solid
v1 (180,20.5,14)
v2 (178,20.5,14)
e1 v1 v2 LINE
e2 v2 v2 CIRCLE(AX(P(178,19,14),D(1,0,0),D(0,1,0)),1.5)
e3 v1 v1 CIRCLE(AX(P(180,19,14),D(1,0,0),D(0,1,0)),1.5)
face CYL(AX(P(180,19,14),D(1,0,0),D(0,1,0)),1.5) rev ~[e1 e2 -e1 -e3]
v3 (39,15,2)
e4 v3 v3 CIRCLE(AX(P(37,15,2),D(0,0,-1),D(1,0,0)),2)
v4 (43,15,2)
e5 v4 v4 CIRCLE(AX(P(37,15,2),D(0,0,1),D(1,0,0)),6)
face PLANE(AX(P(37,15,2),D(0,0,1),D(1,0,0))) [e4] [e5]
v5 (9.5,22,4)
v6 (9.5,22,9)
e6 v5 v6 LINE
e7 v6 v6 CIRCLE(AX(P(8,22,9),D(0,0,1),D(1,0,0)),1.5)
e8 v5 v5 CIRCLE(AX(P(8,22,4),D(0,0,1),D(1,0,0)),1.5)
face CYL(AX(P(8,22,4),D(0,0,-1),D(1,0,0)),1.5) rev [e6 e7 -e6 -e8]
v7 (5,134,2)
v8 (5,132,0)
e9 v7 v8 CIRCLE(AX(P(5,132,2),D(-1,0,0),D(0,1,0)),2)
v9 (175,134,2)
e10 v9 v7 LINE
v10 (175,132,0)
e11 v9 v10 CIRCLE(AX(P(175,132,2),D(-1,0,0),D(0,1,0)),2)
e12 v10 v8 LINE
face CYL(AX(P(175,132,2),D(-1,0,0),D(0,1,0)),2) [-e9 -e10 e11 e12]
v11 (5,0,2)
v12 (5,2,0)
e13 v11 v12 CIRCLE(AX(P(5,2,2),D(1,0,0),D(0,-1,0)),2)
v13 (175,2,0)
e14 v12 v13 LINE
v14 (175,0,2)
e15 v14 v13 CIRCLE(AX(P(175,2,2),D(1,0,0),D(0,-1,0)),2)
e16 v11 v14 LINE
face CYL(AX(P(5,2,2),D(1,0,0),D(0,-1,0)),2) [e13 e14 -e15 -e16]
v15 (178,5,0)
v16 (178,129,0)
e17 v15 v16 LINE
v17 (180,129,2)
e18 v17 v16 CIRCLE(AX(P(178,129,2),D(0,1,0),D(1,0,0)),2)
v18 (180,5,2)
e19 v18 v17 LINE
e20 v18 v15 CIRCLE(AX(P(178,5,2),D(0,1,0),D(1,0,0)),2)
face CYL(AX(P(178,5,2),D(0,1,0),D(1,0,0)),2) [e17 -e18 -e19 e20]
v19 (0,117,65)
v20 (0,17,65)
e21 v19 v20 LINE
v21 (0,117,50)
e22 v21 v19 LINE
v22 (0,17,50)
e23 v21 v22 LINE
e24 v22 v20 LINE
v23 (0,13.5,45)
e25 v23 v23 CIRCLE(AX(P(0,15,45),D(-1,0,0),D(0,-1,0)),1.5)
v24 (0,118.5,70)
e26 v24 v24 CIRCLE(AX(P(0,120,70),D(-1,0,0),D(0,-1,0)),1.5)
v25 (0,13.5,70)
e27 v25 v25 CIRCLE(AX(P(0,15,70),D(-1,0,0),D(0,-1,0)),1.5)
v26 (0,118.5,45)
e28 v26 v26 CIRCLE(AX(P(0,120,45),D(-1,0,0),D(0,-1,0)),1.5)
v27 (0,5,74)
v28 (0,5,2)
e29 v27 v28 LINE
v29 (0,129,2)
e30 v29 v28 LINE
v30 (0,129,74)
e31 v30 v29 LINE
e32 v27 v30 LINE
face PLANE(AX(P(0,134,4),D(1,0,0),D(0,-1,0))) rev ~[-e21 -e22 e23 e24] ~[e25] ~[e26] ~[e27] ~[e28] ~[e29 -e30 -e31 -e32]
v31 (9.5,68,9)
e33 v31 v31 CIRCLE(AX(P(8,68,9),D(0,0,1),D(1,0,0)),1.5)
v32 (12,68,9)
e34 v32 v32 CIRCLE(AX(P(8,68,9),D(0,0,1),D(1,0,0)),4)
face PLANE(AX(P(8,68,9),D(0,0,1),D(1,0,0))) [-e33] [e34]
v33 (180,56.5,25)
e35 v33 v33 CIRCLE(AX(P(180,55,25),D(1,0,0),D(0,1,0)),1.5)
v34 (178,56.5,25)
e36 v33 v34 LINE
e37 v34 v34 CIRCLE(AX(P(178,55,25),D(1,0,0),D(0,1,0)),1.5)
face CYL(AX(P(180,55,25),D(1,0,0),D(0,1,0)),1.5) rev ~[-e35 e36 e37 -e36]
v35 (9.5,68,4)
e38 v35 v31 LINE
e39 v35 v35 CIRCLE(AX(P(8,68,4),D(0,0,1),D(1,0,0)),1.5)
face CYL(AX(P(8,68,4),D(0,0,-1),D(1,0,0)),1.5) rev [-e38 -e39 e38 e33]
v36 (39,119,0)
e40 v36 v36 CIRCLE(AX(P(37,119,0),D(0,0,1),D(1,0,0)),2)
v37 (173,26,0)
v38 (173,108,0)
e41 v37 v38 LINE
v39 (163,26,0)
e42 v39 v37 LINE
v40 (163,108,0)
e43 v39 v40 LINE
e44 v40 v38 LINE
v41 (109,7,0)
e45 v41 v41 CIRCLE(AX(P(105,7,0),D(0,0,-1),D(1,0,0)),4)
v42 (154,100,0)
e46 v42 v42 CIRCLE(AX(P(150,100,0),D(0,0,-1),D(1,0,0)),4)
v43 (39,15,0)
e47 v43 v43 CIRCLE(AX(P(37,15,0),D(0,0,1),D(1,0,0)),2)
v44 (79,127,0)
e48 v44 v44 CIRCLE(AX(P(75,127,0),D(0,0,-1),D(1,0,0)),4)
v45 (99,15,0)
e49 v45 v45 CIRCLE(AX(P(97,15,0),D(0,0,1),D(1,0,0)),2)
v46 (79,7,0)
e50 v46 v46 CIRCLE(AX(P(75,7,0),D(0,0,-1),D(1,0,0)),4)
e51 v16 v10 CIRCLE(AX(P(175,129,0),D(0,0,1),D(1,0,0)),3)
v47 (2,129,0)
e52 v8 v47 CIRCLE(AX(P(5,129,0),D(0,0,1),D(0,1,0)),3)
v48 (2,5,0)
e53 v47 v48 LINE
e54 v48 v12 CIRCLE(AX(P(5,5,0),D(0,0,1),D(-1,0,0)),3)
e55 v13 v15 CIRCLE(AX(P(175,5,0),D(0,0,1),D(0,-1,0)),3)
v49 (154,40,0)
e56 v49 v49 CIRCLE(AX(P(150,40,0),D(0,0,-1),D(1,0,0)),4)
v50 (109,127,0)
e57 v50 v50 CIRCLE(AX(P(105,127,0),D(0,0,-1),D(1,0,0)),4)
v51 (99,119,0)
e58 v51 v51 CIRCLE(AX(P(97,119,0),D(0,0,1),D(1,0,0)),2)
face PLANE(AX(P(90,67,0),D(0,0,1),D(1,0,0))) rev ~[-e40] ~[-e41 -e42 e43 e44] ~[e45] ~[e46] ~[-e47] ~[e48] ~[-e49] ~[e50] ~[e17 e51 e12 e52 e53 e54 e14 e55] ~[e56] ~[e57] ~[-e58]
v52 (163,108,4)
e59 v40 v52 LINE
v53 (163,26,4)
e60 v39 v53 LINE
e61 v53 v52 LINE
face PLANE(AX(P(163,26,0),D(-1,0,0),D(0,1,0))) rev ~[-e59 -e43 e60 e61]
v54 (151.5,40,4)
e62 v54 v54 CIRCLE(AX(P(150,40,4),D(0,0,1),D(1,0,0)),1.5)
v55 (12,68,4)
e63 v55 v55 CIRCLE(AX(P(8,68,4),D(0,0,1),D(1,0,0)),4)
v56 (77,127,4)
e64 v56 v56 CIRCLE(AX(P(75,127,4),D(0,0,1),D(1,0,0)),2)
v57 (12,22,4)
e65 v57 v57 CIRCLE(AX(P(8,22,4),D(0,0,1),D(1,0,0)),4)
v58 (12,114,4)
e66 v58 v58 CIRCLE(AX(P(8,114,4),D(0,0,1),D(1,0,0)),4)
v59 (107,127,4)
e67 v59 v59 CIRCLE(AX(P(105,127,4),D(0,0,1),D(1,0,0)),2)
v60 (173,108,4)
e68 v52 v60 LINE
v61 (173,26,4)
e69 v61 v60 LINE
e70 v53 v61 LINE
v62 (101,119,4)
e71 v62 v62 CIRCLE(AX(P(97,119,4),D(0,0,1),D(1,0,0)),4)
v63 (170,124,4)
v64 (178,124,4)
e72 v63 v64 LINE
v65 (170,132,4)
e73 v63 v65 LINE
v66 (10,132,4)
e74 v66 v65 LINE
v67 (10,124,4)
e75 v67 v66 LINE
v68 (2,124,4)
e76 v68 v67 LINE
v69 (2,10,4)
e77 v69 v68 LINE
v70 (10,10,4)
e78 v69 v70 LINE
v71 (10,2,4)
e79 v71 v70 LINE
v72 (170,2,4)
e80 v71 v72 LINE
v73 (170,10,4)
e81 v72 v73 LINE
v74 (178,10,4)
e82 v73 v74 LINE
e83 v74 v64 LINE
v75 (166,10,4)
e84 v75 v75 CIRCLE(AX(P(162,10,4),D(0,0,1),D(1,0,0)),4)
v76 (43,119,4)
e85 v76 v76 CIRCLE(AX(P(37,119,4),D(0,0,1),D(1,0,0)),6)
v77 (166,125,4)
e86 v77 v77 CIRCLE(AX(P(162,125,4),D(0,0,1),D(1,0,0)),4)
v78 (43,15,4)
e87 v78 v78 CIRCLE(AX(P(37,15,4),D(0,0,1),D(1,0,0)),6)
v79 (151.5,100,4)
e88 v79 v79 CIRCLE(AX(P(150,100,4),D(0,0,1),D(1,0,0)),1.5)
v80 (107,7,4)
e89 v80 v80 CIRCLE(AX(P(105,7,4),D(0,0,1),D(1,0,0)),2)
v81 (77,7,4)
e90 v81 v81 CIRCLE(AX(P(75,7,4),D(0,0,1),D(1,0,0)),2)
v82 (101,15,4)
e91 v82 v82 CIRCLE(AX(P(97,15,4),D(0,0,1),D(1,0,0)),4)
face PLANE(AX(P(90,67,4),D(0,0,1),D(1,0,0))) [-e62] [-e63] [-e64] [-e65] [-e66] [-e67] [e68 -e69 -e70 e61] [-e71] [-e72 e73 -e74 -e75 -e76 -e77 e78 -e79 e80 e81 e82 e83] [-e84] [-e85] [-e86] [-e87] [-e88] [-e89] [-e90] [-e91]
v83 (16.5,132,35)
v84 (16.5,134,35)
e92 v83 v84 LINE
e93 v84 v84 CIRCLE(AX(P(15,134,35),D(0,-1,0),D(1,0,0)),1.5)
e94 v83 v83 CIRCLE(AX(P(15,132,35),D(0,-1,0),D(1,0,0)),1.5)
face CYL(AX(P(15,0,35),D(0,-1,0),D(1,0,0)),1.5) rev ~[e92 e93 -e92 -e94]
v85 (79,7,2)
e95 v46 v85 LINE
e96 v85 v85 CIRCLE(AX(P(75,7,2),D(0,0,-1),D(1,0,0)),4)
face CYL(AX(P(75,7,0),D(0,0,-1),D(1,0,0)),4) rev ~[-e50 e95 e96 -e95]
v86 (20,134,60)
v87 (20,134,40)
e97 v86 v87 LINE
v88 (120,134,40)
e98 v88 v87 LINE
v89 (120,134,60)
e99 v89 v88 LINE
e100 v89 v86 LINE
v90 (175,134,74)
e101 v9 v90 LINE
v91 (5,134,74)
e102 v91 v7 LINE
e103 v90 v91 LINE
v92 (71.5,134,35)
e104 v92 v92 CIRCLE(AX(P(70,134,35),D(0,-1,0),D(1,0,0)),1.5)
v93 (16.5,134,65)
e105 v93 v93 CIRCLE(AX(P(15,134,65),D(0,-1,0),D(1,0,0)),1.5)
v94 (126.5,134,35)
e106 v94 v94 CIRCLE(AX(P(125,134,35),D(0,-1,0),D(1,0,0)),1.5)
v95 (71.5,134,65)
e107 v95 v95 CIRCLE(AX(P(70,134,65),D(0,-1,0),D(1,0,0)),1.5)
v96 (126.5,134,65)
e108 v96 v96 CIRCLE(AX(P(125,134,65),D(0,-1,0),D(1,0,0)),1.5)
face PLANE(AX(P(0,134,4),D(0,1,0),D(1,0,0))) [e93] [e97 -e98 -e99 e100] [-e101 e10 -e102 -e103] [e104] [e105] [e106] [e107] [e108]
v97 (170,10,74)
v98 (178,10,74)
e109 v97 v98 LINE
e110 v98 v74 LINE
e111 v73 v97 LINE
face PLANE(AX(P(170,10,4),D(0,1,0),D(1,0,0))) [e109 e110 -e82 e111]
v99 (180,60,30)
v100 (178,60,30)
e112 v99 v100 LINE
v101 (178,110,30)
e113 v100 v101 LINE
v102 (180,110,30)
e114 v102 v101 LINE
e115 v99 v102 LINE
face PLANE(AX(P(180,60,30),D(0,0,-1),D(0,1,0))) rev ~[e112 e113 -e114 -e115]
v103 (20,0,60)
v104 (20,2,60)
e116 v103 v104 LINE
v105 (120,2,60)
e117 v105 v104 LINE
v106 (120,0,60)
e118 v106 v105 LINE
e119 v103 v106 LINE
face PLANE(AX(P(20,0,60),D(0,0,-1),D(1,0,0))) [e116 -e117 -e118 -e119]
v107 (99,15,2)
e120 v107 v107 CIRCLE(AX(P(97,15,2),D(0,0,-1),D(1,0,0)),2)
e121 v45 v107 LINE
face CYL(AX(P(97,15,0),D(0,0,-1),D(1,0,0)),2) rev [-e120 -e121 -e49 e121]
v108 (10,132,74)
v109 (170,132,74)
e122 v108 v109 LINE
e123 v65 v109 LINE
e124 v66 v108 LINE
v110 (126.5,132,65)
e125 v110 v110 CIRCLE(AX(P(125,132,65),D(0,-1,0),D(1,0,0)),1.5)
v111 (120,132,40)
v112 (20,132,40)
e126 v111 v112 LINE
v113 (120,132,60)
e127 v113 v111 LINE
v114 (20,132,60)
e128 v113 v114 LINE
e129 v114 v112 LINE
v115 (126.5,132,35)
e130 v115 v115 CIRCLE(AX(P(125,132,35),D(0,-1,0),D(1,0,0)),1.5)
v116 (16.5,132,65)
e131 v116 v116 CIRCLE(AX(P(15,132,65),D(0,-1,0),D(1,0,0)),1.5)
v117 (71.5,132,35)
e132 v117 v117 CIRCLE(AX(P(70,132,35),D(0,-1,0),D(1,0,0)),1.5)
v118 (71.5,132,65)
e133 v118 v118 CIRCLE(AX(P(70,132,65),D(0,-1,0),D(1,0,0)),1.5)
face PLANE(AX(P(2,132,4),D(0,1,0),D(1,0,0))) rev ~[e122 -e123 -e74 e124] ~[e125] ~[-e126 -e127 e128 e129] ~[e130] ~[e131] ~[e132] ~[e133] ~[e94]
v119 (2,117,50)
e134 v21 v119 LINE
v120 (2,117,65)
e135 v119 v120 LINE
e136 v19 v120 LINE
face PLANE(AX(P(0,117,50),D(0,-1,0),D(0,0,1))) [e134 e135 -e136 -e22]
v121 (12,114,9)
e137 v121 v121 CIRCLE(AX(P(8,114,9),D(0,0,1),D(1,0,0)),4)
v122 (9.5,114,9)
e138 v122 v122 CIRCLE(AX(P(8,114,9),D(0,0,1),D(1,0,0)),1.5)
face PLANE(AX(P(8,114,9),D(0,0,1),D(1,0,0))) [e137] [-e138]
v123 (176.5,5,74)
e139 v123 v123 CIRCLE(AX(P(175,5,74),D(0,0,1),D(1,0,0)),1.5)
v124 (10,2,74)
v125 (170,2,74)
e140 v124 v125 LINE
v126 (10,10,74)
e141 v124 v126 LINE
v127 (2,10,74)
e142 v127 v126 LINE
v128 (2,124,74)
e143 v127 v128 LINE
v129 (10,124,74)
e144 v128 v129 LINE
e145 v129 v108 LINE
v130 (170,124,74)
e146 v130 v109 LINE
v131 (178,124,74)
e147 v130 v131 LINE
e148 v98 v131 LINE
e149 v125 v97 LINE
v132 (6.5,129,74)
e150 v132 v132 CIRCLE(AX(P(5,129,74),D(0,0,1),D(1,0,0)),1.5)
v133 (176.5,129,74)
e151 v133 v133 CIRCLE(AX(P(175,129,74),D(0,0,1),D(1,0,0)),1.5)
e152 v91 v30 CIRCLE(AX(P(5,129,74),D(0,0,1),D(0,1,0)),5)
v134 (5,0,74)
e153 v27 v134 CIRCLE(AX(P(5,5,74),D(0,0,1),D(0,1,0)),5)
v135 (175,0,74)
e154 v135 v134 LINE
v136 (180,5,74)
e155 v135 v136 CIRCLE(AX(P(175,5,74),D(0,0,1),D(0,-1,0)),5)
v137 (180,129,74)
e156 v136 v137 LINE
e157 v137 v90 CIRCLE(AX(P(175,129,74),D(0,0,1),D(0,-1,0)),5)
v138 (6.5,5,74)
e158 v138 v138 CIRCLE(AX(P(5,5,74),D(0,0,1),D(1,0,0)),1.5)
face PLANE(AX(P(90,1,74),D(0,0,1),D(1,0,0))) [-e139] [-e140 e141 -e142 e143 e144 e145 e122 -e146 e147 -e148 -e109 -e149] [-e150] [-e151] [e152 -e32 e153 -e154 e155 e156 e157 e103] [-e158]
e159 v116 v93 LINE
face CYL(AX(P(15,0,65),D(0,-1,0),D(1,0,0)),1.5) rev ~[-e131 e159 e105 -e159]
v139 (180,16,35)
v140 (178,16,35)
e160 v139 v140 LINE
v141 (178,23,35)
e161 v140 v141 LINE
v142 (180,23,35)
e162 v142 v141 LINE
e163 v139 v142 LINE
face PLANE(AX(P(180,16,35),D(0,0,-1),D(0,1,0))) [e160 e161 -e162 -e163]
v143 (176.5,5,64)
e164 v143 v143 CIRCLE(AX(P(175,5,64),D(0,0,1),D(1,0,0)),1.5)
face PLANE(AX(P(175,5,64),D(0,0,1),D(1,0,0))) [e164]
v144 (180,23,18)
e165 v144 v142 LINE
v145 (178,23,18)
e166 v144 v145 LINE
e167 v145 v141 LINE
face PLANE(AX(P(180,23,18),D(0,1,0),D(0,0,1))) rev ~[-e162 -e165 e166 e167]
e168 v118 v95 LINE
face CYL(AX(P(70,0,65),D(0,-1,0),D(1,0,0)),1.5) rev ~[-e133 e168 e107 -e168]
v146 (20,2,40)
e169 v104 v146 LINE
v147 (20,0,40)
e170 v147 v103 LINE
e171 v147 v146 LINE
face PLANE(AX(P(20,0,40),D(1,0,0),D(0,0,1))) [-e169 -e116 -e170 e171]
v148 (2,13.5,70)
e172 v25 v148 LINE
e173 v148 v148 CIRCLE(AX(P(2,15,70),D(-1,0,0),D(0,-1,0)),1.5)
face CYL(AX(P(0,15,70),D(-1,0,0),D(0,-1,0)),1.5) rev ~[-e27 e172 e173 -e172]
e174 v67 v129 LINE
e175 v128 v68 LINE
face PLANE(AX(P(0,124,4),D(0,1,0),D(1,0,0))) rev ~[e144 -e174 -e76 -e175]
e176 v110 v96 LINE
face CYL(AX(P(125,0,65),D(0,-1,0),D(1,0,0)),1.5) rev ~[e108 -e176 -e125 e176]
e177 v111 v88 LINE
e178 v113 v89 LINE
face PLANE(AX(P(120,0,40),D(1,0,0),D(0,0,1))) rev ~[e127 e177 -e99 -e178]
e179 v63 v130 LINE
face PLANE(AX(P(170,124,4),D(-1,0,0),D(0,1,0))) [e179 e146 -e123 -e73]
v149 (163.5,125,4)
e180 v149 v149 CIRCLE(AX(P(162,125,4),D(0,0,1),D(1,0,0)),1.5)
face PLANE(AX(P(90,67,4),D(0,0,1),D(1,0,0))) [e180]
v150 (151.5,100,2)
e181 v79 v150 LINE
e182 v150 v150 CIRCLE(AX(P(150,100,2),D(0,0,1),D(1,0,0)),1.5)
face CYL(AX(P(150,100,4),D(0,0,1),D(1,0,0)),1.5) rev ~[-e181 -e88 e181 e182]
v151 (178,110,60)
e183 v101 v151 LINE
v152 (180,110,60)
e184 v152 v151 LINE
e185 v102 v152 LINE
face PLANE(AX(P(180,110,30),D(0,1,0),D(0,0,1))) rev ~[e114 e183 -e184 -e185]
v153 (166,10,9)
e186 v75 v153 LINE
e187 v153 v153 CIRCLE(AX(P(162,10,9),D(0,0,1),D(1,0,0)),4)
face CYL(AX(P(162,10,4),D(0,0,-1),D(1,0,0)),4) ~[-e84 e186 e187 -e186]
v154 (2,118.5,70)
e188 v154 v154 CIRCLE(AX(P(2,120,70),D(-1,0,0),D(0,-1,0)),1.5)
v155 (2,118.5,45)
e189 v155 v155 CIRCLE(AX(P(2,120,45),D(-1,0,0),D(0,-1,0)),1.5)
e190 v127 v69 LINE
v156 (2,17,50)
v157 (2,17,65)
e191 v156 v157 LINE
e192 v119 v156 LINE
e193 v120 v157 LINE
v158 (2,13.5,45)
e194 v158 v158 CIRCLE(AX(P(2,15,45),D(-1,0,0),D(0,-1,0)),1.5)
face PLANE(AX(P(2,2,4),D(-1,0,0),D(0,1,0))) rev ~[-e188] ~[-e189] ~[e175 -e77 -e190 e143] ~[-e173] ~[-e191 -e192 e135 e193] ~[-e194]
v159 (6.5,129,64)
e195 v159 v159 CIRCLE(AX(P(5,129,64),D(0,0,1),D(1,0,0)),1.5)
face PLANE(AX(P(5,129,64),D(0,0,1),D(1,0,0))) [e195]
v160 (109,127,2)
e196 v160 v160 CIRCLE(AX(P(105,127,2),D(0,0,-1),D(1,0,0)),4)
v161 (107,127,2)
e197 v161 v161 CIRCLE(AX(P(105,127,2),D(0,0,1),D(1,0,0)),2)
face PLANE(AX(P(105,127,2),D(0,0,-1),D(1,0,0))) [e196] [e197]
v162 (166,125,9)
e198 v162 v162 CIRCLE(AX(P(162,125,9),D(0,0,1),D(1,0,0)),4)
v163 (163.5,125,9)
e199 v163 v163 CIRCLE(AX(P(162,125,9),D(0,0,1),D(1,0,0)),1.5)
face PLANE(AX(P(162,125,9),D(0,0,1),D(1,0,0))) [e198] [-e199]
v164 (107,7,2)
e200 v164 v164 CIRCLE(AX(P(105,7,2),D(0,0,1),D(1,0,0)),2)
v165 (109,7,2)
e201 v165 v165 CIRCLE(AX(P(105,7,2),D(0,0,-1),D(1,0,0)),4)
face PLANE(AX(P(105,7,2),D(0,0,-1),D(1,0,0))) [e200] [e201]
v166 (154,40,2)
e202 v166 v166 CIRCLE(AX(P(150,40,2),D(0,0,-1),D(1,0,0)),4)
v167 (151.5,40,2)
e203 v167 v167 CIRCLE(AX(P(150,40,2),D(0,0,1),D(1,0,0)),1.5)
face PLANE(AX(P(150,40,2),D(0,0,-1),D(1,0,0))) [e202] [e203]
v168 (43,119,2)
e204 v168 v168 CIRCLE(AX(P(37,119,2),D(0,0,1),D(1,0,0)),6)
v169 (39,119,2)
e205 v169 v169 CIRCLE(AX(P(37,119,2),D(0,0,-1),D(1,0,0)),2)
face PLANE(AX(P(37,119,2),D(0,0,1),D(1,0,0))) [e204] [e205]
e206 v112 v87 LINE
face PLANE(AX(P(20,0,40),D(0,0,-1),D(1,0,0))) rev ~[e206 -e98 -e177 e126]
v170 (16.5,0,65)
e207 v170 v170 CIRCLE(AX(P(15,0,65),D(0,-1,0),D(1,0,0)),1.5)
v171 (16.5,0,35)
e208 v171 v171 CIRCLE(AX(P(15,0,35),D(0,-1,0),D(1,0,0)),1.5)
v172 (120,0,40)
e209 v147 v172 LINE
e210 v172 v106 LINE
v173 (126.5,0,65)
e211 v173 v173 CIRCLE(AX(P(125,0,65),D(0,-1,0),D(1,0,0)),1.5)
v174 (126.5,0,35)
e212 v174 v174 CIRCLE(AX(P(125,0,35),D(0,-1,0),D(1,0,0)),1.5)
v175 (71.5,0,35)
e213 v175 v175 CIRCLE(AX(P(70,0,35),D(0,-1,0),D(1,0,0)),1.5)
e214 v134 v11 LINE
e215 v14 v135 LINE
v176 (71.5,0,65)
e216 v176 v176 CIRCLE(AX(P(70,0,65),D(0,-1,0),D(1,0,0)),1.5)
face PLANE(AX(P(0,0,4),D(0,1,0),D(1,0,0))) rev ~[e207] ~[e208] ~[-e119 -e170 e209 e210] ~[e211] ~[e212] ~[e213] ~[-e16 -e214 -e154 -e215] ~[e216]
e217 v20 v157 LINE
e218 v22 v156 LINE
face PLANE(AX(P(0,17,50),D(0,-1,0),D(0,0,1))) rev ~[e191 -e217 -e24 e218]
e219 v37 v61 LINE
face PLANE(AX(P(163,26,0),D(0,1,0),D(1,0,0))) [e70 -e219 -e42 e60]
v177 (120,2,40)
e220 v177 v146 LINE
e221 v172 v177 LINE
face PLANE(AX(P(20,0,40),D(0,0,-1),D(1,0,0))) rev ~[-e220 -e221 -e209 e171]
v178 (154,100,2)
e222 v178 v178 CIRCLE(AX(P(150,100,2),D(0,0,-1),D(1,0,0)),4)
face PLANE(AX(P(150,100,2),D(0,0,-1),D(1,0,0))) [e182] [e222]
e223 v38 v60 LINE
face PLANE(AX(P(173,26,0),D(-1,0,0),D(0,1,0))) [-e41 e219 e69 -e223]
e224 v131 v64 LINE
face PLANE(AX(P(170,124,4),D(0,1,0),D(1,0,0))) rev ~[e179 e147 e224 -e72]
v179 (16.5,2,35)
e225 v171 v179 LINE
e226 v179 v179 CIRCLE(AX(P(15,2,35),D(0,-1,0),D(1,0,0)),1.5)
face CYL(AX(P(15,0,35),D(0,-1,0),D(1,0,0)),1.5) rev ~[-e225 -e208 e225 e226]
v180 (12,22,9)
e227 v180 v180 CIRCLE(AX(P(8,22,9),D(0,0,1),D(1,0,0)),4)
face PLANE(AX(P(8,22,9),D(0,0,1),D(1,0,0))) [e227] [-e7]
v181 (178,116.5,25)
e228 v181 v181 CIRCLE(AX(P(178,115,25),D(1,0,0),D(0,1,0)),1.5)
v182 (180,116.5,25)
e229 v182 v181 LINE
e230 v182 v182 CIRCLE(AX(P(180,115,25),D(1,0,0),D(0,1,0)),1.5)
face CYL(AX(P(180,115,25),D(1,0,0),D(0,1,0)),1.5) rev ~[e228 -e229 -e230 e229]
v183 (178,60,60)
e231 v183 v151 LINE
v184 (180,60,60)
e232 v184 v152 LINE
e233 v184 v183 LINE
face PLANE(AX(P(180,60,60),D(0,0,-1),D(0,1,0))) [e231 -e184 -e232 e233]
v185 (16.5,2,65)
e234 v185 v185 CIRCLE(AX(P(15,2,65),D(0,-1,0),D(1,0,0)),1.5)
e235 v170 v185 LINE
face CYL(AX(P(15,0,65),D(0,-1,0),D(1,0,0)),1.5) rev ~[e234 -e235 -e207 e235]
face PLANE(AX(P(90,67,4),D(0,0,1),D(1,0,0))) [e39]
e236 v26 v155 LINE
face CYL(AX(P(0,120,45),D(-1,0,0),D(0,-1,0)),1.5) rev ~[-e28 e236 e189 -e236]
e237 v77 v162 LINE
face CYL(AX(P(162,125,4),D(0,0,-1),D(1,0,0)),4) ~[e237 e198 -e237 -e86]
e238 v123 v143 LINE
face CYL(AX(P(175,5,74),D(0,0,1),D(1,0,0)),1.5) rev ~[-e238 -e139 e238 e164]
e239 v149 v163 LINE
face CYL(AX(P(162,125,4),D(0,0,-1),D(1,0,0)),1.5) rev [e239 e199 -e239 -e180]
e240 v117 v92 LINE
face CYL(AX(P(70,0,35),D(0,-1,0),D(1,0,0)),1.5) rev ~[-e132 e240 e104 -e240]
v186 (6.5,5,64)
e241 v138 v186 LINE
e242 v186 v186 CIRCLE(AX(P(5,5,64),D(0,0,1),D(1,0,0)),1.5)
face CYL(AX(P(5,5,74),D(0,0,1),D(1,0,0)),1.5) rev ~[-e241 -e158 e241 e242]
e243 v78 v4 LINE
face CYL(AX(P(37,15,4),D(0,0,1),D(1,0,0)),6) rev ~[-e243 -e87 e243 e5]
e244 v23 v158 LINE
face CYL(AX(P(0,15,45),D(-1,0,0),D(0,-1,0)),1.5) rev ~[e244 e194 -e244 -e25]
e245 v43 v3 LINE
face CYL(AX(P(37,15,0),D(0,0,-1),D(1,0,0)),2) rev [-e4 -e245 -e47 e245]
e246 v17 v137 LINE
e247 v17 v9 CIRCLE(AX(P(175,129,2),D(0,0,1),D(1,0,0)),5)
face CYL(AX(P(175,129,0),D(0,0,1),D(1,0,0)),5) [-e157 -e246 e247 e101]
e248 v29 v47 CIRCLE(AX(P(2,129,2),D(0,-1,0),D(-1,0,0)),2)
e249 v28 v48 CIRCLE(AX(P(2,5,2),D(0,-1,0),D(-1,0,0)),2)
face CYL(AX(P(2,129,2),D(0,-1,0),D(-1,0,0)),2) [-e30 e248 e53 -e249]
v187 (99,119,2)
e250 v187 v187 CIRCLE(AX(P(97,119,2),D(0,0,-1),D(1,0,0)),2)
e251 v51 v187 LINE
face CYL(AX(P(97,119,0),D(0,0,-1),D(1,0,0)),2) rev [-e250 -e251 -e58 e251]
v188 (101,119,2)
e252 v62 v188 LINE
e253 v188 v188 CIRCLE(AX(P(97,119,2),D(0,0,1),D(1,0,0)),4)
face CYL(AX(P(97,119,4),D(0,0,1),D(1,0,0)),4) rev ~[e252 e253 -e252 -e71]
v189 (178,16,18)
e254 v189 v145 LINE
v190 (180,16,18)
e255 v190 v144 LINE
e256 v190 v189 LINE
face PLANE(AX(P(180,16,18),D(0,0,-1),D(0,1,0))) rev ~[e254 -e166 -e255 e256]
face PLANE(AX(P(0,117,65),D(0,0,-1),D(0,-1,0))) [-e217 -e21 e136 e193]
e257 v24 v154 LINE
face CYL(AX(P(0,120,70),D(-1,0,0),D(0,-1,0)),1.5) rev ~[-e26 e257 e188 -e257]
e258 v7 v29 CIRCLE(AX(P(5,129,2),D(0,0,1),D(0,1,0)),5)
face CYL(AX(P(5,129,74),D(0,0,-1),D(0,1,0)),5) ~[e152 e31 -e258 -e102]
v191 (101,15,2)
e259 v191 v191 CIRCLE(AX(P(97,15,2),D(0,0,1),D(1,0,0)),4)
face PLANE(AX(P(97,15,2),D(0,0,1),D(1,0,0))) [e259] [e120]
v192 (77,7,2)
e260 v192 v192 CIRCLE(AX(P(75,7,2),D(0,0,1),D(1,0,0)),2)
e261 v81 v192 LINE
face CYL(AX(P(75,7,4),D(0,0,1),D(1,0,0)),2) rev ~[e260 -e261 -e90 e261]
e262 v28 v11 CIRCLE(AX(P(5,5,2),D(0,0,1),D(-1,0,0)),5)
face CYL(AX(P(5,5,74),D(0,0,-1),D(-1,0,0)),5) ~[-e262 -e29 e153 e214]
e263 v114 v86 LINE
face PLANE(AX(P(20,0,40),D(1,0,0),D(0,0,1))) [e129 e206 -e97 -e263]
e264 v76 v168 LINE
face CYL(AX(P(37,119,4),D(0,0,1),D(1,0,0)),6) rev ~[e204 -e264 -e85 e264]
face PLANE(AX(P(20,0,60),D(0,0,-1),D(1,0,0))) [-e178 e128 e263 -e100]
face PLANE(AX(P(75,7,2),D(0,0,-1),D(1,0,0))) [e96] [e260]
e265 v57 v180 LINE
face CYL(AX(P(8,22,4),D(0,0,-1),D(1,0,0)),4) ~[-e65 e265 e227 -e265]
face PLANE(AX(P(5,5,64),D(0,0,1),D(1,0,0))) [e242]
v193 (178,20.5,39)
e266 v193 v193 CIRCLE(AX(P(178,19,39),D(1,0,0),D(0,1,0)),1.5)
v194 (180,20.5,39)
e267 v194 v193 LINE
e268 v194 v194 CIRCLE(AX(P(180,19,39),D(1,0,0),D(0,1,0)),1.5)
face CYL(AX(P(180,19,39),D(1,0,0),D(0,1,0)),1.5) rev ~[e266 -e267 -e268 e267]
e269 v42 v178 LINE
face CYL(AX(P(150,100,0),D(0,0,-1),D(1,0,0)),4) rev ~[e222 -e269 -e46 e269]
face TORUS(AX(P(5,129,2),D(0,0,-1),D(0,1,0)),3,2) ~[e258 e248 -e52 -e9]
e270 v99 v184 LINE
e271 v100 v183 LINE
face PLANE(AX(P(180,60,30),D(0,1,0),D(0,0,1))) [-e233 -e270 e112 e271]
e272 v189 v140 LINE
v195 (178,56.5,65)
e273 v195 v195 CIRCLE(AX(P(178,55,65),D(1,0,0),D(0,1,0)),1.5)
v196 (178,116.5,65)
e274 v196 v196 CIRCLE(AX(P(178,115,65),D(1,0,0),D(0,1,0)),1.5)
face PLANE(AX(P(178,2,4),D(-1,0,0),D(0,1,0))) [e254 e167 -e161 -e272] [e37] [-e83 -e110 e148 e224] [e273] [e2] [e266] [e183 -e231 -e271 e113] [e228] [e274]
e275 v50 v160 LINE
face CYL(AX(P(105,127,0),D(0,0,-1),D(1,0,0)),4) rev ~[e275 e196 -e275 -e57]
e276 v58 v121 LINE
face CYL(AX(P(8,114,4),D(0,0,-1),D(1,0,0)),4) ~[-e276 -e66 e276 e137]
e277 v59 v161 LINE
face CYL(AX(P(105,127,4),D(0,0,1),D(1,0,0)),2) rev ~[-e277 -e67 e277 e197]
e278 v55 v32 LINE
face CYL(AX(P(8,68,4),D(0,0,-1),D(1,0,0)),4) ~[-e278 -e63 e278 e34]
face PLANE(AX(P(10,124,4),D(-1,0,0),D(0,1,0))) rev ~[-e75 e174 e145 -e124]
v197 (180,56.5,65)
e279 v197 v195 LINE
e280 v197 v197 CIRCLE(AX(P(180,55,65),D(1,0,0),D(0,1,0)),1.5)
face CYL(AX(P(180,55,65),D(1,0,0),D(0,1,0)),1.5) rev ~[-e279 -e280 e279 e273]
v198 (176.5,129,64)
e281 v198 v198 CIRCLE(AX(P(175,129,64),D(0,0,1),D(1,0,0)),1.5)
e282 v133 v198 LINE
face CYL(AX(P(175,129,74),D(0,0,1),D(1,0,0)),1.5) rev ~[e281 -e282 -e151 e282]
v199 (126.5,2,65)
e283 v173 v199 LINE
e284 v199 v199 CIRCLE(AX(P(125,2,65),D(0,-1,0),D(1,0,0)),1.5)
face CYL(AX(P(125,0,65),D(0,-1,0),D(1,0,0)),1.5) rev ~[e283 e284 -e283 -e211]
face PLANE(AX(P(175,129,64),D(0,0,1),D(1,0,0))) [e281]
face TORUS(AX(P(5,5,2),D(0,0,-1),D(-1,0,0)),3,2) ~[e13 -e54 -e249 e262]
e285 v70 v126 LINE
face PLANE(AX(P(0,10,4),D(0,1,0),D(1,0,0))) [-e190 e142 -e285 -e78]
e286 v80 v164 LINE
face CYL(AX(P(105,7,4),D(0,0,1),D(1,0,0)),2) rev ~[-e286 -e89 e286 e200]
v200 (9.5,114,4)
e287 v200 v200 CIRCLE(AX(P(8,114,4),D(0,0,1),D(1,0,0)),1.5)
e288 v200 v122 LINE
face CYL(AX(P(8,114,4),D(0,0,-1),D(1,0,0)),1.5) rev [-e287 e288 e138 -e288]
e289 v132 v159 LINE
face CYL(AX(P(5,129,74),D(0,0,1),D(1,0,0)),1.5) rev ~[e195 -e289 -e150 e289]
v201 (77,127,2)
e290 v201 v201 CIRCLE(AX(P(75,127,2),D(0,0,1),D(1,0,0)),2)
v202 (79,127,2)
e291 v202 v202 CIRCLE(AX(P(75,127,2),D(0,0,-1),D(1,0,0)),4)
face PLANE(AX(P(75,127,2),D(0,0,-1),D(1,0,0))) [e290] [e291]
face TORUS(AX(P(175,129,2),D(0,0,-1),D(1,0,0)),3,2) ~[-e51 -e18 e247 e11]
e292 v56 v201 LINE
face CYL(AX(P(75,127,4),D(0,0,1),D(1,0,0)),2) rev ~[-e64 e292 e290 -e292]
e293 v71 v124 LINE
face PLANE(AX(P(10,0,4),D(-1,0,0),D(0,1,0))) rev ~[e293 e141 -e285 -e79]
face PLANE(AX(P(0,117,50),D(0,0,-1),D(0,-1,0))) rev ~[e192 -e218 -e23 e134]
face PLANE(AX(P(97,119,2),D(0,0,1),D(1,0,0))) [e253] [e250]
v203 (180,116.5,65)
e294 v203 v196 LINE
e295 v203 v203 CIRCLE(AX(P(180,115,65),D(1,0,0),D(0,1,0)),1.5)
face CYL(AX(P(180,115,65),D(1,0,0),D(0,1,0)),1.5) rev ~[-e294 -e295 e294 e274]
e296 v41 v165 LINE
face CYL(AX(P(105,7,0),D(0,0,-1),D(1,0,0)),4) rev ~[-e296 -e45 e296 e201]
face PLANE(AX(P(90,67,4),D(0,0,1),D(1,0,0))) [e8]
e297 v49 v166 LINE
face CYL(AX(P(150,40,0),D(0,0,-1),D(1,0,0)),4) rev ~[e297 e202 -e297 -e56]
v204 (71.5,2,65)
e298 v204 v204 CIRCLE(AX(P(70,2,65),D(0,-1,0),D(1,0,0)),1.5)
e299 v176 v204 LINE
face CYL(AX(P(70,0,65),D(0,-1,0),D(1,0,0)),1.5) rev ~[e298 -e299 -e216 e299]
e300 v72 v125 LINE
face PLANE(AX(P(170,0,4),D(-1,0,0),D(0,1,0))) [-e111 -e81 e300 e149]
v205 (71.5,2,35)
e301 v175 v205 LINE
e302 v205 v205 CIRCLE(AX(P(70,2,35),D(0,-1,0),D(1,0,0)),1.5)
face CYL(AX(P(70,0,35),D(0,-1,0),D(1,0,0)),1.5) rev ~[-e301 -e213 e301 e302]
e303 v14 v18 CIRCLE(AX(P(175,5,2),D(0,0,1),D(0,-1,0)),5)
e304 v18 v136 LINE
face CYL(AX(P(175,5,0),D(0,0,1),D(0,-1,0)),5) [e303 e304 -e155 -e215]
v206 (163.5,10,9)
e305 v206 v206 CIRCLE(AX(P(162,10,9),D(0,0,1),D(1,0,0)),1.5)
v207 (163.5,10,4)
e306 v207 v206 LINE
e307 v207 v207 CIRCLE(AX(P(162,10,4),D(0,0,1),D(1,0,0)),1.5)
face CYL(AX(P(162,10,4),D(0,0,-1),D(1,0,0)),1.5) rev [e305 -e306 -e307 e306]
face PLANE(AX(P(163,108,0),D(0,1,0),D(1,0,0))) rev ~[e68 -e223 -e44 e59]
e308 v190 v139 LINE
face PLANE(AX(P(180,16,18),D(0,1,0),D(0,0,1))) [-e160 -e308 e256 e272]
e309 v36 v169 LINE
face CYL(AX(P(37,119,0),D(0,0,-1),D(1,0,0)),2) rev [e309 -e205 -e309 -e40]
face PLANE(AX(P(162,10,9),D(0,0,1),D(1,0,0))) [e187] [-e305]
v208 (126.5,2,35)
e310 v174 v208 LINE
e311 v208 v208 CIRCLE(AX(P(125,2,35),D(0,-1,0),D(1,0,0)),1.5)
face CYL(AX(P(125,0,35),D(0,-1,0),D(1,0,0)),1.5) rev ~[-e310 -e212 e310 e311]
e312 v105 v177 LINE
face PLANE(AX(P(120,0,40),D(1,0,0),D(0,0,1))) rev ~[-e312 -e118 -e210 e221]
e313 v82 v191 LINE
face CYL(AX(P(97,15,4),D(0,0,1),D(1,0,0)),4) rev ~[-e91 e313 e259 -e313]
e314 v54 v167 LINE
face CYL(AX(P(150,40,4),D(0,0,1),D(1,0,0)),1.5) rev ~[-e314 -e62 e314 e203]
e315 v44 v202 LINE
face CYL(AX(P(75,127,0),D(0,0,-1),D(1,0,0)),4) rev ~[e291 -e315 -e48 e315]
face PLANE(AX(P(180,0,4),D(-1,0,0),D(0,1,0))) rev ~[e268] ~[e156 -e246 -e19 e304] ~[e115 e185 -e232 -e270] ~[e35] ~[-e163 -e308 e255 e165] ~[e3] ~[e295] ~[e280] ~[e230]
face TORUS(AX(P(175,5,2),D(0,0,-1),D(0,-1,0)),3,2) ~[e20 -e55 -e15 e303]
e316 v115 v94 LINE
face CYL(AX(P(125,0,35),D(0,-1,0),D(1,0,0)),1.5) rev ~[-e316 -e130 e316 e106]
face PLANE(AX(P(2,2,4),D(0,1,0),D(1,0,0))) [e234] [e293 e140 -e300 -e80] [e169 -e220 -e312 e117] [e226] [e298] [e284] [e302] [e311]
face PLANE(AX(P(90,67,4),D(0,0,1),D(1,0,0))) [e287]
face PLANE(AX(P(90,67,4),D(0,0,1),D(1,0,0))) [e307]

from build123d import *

# Parameters (mm, degrees)
SKETCH_W        = 180
SKETCH_H        = 134
SKETCH_R        = 2
SKETCH_W_2      = 10
SKETCH_H_2      = 82
PAD_DEPTH       = 4
SKETCH001_W     = 180
SKETCH001_H     = 2
SKETCH001_W_2   = 2
SKETCH001_H_2   = 130
PAD001_DEPTH    = 70
SKETCH002_R     = 6
SKETCH002_R_2   = 4
POCKET_DEPTH    = 2
SKETCH003_R     = 2
POCKET001_DEPTH = 4
SKETCH004_R     = 4
POCKET002_DEPTH = 2
SKETCH005_R     = 1.5
SKETCH005_W     = 7
SKETCH005_H     = 17
SKETCH005_W_2   = 50
SKETCH005_H_2   = 30
POCKET003_DEPTH = 2
SKETCH006_W     = 10
SKETCH006_H     = 10
PAD002_DEPTH    = 70
SKETCH007_R     = 1.5
POCKET004_DEPTH = 10
FILLET_R        = 5
FILLET001_R     = 5
FILLET002_R     = 5
FILLET003_R     = 5
SKETCH008_R     = 1.5
SKETCH008_W     = 100
SKETCH008_H     = 20
POCKET005_DEPTH = 150
SKETCH009_R     = 4
SKETCH009_R_2   = 1.5
PAD003_DEPTH    = 5
SKETCH010_R     = 1.5
POCKET006_DEPTH = 4
SKETCH011_R     = 4
POCKET007_DEPTH = 2
SKETCH012_R     = 1.5
POCKET008_DEPTH = 2
FILLET004_R     = 2
SKETCH013_R     = 1.5
SKETCH013_W     = 100
SKETCH013_H     = 15
POCKET009_DEPTH = 2


with BuildPart() as part:
    # Sketch → Pad (new body)
    with BuildSketch(Plane.XY):
        with Locations((90, 67)):
            Rectangle(SKETCH_W, SKETCH_H)
        with Locations((37, 15)):
            Circle(SKETCH_R, mode=Mode.SUBTRACT)
        with Locations((37, 119)):
            Circle(SKETCH_R, mode=Mode.SUBTRACT)
        with Locations((97, 15)):
            Circle(SKETCH_R, mode=Mode.SUBTRACT)
        with Locations((97, 119)):
            Circle(SKETCH_R, mode=Mode.SUBTRACT)
        with Locations((168, 67)):
            Rectangle(SKETCH_W_2, SKETCH_H_2, mode=Mode.SUBTRACT)
    extrude(amount=PAD_DEPTH)

    # Sketch001 → Pad001 (new body)
    with BuildSketch(Plane.XY.offset(4)):
        with Locations((90, 1)):
            Rectangle(SKETCH001_W, SKETCH001_H)
        with Locations((90, 133)):
            Rectangle(SKETCH001_W, SKETCH001_H)
        with Locations((179, 67)):
            Rectangle(SKETCH001_W_2, SKETCH001_H_2)
        with Locations((1, 67)):
            Rectangle(SKETCH001_W_2, SKETCH001_H_2)
    extrude(amount=PAD001_DEPTH)

    # Sketch002 → Pocket (cut)
    with BuildSketch(Plane.XY.offset(4)):
        with Locations((37, 15)):
            Circle(SKETCH002_R)
        with Locations((97, 15)):
            Circle(SKETCH002_R_2)
        with Locations((37, 119)):
            Circle(SKETCH002_R)
        with Locations((97, 119)):
            Circle(SKETCH002_R_2)
    extrude(amount=-POCKET_DEPTH, mode=Mode.SUBTRACT)

    # Sketch003 → Pocket001 (cut)
    with BuildSketch(Plane.XY.offset(4)):
        with Locations((105, 7)):
            Circle(SKETCH003_R)
        with Locations((75, 7)):
            Circle(SKETCH003_R)
        with Locations((75, 127)):
            Circle(SKETCH003_R)
        with Locations((105, 127)):
            Circle(SKETCH003_R)
    extrude(amount=-POCKET001_DEPTH, mode=Mode.SUBTRACT)

    # Sketch004 → Pocket002 (cut)
    with BuildSketch(Plane(origin=(0, 0, 0), x_dir=(1, 0, 0), z_dir=(0, 0, -1))):
        with Locations((105, -7)):
            Circle(SKETCH004_R)
        with Locations((75, -7)):
            Circle(SKETCH004_R)
        with Locations((75, -127)):
            Circle(SKETCH004_R)
        with Locations((105, -127)):
            Circle(SKETCH004_R)
    extrude(amount=-POCKET002_DEPTH, mode=Mode.SUBTRACT)

    # Sketch005 → Pocket003 (cut)
    with BuildSketch(Plane.YZ.offset(180)):
        with Locations((55, 65)):
            Circle(SKETCH005_R)
        with Locations((115, 65)):
            Circle(SKETCH005_R)
        with Locations((55, 25)):
            Circle(SKETCH005_R)
        with Locations((115, 25)):
            Circle(SKETCH005_R)
        with Locations((19.5, 26.5)):
            Rectangle(SKETCH005_W, SKETCH005_H)
        with Locations((85, 45)):
            Rectangle(SKETCH005_W_2, SKETCH005_H_2)
    extrude(amount=-POCKET003_DEPTH, mode=Mode.SUBTRACT)

    # Sketch006 → Pad002 (new body)
    with BuildSketch(Plane.XY.offset(4)):
        with Locations((5, 5)):
            Rectangle(SKETCH006_W, SKETCH006_H)
        with Locations((175, 5)):
            Rectangle(SKETCH006_W, SKETCH006_H)
        with Locations((5, 129)):
            Rectangle(SKETCH006_W, SKETCH006_H)
        with Locations((175, 129)):
            Rectangle(SKETCH006_W, SKETCH006_H)
    extrude(amount=PAD002_DEPTH)

    # Sketch007 → Pocket004 (cut)
    with BuildSketch(Plane.XY.offset(74)):
        with Locations((5, 5)):
            Circle(SKETCH007_R)
        with Locations((5, 129)):
            Circle(SKETCH007_R)
        with Locations((175, 129)):
            Circle(SKETCH007_R)
        with Locations((175, 5)):
            Circle(SKETCH007_R)
    extrude(amount=-POCKET004_DEPTH, mode=Mode.SUBTRACT)

    # Fillet
    fillet_edges = [part.edges().sort_by_distance(p)[0] for p in [
        (180, 0, 37),
    ]]
    fillet(fillet_edges, radius=FILLET_R)

    # Fillet001
    fillet001_edges = [part.edges().sort_by_distance(p)[0] for p in [
        (180, 134, 37),
    ]]
    fillet(fillet001_edges, radius=FILLET001_R)

    # Fillet002
    fillet002_edges = [part.edges().sort_by_distance(p)[0] for p in [
        (0, 134, 37),
    ]]
    fillet(fillet002_edges, radius=FILLET002_R)

    # Fillet003
    fillet003_edges = [part.edges().sort_by_distance(p)[0] for p in [
        (0, 0, 37),
    ]]
    fillet(fillet003_edges, radius=FILLET003_R)

    # Sketch008 → Pocket005 (cut)
    with BuildSketch(Plane.XZ):
        with Locations((15, 35)):
            Circle(SKETCH008_R)
        with Locations((15, 65)):
            Circle(SKETCH008_R)
        with Locations((125, 35)):
            Circle(SKETCH008_R)
        with Locations((125, 65)):
            Circle(SKETCH008_R)
        with Locations((70, 65)):
            Circle(SKETCH008_R)
        with Locations((70, 35)):
            Circle(SKETCH008_R)
        with Locations((70, 50)):
            Rectangle(SKETCH008_W, SKETCH008_H)
    extrude(amount=-POCKET005_DEPTH, mode=Mode.SUBTRACT)

    # Sketch009 → Pad003 (new body)
    with BuildSketch(Plane.XY.offset(4)):
        with Locations((8, 114)):
            Circle(SKETCH009_R)
        with Locations((8, 114)):
            Circle(SKETCH009_R_2, mode=Mode.SUBTRACT)
        with Locations((8, 68)):
            Circle(SKETCH009_R)
        with Locations((8, 68)):
            Circle(SKETCH009_R_2, mode=Mode.SUBTRACT)
        with Locations((8, 22)):
            Circle(SKETCH009_R)
        with Locations((8, 22)):
            Circle(SKETCH009_R_2, mode=Mode.SUBTRACT)
        with Locations((162, 125)):
            Circle(SKETCH009_R)
        with Locations((162, 125)):
            Circle(SKETCH009_R_2, mode=Mode.SUBTRACT)
        with Locations((162, 10)):
            Circle(SKETCH009_R)
        with Locations((162, 10)):
            Circle(SKETCH009_R_2, mode=Mode.SUBTRACT)
    extrude(amount=PAD003_DEPTH)

    # Sketch010 → Pocket006 (cut)
    with BuildSketch(Plane.XY.offset(4)):
        with Locations((150, 100)):
            Circle(SKETCH010_R)
        with Locations((150, 40)):
            Circle(SKETCH010_R)
    extrude(amount=-POCKET006_DEPTH, mode=Mode.SUBTRACT)

    # Sketch011 → Pocket007 (cut)
    with BuildSketch(Plane(origin=(0, 0, 0), x_dir=(1, 0, 0), z_dir=(0, 0, -1))):
        with Locations((150, -40)):
            Circle(SKETCH011_R)
        with Locations((150, -100)):
            Circle(SKETCH011_R)
    extrude(amount=-POCKET007_DEPTH, mode=Mode.SUBTRACT)

    # Sketch012 → Pocket008 (cut)
    with BuildSketch(Plane.YZ.offset(180)):
        with Locations((19, 39)):
            Circle(SKETCH012_R)
        with Locations((19, 14)):
            Circle(SKETCH012_R)
    extrude(amount=-POCKET008_DEPTH, mode=Mode.SUBTRACT)

    # Fillet004
    fillet004_edges = [part.edges().sort_by_distance(p)[0] for p in [
        (180, 67, 0),
    ]]
    fillet(fillet004_edges, radius=FILLET004_R)

    # Sketch013 → Pocket009 (cut)
    with BuildSketch(Plane(origin=(0, 0, 0), x_dir=(0, -1, 0), z_dir=(-1, 0, 0))):
        with Locations((-120, 45)):
            Circle(SKETCH013_R)
        with Locations((-15, 45)):
            Circle(SKETCH013_R)
        with Locations((-120, 70)):
            Circle(SKETCH013_R)
        with Locations((-15, 70)):
            Circle(SKETCH013_R)
        with Locations((-67, 57.5)):
            Rectangle(SKETCH013_W, SKETCH013_H)
    extrude(amount=-POCKET009_DEPTH, mode=Mode.SUBTRACT)


solid = part.part
